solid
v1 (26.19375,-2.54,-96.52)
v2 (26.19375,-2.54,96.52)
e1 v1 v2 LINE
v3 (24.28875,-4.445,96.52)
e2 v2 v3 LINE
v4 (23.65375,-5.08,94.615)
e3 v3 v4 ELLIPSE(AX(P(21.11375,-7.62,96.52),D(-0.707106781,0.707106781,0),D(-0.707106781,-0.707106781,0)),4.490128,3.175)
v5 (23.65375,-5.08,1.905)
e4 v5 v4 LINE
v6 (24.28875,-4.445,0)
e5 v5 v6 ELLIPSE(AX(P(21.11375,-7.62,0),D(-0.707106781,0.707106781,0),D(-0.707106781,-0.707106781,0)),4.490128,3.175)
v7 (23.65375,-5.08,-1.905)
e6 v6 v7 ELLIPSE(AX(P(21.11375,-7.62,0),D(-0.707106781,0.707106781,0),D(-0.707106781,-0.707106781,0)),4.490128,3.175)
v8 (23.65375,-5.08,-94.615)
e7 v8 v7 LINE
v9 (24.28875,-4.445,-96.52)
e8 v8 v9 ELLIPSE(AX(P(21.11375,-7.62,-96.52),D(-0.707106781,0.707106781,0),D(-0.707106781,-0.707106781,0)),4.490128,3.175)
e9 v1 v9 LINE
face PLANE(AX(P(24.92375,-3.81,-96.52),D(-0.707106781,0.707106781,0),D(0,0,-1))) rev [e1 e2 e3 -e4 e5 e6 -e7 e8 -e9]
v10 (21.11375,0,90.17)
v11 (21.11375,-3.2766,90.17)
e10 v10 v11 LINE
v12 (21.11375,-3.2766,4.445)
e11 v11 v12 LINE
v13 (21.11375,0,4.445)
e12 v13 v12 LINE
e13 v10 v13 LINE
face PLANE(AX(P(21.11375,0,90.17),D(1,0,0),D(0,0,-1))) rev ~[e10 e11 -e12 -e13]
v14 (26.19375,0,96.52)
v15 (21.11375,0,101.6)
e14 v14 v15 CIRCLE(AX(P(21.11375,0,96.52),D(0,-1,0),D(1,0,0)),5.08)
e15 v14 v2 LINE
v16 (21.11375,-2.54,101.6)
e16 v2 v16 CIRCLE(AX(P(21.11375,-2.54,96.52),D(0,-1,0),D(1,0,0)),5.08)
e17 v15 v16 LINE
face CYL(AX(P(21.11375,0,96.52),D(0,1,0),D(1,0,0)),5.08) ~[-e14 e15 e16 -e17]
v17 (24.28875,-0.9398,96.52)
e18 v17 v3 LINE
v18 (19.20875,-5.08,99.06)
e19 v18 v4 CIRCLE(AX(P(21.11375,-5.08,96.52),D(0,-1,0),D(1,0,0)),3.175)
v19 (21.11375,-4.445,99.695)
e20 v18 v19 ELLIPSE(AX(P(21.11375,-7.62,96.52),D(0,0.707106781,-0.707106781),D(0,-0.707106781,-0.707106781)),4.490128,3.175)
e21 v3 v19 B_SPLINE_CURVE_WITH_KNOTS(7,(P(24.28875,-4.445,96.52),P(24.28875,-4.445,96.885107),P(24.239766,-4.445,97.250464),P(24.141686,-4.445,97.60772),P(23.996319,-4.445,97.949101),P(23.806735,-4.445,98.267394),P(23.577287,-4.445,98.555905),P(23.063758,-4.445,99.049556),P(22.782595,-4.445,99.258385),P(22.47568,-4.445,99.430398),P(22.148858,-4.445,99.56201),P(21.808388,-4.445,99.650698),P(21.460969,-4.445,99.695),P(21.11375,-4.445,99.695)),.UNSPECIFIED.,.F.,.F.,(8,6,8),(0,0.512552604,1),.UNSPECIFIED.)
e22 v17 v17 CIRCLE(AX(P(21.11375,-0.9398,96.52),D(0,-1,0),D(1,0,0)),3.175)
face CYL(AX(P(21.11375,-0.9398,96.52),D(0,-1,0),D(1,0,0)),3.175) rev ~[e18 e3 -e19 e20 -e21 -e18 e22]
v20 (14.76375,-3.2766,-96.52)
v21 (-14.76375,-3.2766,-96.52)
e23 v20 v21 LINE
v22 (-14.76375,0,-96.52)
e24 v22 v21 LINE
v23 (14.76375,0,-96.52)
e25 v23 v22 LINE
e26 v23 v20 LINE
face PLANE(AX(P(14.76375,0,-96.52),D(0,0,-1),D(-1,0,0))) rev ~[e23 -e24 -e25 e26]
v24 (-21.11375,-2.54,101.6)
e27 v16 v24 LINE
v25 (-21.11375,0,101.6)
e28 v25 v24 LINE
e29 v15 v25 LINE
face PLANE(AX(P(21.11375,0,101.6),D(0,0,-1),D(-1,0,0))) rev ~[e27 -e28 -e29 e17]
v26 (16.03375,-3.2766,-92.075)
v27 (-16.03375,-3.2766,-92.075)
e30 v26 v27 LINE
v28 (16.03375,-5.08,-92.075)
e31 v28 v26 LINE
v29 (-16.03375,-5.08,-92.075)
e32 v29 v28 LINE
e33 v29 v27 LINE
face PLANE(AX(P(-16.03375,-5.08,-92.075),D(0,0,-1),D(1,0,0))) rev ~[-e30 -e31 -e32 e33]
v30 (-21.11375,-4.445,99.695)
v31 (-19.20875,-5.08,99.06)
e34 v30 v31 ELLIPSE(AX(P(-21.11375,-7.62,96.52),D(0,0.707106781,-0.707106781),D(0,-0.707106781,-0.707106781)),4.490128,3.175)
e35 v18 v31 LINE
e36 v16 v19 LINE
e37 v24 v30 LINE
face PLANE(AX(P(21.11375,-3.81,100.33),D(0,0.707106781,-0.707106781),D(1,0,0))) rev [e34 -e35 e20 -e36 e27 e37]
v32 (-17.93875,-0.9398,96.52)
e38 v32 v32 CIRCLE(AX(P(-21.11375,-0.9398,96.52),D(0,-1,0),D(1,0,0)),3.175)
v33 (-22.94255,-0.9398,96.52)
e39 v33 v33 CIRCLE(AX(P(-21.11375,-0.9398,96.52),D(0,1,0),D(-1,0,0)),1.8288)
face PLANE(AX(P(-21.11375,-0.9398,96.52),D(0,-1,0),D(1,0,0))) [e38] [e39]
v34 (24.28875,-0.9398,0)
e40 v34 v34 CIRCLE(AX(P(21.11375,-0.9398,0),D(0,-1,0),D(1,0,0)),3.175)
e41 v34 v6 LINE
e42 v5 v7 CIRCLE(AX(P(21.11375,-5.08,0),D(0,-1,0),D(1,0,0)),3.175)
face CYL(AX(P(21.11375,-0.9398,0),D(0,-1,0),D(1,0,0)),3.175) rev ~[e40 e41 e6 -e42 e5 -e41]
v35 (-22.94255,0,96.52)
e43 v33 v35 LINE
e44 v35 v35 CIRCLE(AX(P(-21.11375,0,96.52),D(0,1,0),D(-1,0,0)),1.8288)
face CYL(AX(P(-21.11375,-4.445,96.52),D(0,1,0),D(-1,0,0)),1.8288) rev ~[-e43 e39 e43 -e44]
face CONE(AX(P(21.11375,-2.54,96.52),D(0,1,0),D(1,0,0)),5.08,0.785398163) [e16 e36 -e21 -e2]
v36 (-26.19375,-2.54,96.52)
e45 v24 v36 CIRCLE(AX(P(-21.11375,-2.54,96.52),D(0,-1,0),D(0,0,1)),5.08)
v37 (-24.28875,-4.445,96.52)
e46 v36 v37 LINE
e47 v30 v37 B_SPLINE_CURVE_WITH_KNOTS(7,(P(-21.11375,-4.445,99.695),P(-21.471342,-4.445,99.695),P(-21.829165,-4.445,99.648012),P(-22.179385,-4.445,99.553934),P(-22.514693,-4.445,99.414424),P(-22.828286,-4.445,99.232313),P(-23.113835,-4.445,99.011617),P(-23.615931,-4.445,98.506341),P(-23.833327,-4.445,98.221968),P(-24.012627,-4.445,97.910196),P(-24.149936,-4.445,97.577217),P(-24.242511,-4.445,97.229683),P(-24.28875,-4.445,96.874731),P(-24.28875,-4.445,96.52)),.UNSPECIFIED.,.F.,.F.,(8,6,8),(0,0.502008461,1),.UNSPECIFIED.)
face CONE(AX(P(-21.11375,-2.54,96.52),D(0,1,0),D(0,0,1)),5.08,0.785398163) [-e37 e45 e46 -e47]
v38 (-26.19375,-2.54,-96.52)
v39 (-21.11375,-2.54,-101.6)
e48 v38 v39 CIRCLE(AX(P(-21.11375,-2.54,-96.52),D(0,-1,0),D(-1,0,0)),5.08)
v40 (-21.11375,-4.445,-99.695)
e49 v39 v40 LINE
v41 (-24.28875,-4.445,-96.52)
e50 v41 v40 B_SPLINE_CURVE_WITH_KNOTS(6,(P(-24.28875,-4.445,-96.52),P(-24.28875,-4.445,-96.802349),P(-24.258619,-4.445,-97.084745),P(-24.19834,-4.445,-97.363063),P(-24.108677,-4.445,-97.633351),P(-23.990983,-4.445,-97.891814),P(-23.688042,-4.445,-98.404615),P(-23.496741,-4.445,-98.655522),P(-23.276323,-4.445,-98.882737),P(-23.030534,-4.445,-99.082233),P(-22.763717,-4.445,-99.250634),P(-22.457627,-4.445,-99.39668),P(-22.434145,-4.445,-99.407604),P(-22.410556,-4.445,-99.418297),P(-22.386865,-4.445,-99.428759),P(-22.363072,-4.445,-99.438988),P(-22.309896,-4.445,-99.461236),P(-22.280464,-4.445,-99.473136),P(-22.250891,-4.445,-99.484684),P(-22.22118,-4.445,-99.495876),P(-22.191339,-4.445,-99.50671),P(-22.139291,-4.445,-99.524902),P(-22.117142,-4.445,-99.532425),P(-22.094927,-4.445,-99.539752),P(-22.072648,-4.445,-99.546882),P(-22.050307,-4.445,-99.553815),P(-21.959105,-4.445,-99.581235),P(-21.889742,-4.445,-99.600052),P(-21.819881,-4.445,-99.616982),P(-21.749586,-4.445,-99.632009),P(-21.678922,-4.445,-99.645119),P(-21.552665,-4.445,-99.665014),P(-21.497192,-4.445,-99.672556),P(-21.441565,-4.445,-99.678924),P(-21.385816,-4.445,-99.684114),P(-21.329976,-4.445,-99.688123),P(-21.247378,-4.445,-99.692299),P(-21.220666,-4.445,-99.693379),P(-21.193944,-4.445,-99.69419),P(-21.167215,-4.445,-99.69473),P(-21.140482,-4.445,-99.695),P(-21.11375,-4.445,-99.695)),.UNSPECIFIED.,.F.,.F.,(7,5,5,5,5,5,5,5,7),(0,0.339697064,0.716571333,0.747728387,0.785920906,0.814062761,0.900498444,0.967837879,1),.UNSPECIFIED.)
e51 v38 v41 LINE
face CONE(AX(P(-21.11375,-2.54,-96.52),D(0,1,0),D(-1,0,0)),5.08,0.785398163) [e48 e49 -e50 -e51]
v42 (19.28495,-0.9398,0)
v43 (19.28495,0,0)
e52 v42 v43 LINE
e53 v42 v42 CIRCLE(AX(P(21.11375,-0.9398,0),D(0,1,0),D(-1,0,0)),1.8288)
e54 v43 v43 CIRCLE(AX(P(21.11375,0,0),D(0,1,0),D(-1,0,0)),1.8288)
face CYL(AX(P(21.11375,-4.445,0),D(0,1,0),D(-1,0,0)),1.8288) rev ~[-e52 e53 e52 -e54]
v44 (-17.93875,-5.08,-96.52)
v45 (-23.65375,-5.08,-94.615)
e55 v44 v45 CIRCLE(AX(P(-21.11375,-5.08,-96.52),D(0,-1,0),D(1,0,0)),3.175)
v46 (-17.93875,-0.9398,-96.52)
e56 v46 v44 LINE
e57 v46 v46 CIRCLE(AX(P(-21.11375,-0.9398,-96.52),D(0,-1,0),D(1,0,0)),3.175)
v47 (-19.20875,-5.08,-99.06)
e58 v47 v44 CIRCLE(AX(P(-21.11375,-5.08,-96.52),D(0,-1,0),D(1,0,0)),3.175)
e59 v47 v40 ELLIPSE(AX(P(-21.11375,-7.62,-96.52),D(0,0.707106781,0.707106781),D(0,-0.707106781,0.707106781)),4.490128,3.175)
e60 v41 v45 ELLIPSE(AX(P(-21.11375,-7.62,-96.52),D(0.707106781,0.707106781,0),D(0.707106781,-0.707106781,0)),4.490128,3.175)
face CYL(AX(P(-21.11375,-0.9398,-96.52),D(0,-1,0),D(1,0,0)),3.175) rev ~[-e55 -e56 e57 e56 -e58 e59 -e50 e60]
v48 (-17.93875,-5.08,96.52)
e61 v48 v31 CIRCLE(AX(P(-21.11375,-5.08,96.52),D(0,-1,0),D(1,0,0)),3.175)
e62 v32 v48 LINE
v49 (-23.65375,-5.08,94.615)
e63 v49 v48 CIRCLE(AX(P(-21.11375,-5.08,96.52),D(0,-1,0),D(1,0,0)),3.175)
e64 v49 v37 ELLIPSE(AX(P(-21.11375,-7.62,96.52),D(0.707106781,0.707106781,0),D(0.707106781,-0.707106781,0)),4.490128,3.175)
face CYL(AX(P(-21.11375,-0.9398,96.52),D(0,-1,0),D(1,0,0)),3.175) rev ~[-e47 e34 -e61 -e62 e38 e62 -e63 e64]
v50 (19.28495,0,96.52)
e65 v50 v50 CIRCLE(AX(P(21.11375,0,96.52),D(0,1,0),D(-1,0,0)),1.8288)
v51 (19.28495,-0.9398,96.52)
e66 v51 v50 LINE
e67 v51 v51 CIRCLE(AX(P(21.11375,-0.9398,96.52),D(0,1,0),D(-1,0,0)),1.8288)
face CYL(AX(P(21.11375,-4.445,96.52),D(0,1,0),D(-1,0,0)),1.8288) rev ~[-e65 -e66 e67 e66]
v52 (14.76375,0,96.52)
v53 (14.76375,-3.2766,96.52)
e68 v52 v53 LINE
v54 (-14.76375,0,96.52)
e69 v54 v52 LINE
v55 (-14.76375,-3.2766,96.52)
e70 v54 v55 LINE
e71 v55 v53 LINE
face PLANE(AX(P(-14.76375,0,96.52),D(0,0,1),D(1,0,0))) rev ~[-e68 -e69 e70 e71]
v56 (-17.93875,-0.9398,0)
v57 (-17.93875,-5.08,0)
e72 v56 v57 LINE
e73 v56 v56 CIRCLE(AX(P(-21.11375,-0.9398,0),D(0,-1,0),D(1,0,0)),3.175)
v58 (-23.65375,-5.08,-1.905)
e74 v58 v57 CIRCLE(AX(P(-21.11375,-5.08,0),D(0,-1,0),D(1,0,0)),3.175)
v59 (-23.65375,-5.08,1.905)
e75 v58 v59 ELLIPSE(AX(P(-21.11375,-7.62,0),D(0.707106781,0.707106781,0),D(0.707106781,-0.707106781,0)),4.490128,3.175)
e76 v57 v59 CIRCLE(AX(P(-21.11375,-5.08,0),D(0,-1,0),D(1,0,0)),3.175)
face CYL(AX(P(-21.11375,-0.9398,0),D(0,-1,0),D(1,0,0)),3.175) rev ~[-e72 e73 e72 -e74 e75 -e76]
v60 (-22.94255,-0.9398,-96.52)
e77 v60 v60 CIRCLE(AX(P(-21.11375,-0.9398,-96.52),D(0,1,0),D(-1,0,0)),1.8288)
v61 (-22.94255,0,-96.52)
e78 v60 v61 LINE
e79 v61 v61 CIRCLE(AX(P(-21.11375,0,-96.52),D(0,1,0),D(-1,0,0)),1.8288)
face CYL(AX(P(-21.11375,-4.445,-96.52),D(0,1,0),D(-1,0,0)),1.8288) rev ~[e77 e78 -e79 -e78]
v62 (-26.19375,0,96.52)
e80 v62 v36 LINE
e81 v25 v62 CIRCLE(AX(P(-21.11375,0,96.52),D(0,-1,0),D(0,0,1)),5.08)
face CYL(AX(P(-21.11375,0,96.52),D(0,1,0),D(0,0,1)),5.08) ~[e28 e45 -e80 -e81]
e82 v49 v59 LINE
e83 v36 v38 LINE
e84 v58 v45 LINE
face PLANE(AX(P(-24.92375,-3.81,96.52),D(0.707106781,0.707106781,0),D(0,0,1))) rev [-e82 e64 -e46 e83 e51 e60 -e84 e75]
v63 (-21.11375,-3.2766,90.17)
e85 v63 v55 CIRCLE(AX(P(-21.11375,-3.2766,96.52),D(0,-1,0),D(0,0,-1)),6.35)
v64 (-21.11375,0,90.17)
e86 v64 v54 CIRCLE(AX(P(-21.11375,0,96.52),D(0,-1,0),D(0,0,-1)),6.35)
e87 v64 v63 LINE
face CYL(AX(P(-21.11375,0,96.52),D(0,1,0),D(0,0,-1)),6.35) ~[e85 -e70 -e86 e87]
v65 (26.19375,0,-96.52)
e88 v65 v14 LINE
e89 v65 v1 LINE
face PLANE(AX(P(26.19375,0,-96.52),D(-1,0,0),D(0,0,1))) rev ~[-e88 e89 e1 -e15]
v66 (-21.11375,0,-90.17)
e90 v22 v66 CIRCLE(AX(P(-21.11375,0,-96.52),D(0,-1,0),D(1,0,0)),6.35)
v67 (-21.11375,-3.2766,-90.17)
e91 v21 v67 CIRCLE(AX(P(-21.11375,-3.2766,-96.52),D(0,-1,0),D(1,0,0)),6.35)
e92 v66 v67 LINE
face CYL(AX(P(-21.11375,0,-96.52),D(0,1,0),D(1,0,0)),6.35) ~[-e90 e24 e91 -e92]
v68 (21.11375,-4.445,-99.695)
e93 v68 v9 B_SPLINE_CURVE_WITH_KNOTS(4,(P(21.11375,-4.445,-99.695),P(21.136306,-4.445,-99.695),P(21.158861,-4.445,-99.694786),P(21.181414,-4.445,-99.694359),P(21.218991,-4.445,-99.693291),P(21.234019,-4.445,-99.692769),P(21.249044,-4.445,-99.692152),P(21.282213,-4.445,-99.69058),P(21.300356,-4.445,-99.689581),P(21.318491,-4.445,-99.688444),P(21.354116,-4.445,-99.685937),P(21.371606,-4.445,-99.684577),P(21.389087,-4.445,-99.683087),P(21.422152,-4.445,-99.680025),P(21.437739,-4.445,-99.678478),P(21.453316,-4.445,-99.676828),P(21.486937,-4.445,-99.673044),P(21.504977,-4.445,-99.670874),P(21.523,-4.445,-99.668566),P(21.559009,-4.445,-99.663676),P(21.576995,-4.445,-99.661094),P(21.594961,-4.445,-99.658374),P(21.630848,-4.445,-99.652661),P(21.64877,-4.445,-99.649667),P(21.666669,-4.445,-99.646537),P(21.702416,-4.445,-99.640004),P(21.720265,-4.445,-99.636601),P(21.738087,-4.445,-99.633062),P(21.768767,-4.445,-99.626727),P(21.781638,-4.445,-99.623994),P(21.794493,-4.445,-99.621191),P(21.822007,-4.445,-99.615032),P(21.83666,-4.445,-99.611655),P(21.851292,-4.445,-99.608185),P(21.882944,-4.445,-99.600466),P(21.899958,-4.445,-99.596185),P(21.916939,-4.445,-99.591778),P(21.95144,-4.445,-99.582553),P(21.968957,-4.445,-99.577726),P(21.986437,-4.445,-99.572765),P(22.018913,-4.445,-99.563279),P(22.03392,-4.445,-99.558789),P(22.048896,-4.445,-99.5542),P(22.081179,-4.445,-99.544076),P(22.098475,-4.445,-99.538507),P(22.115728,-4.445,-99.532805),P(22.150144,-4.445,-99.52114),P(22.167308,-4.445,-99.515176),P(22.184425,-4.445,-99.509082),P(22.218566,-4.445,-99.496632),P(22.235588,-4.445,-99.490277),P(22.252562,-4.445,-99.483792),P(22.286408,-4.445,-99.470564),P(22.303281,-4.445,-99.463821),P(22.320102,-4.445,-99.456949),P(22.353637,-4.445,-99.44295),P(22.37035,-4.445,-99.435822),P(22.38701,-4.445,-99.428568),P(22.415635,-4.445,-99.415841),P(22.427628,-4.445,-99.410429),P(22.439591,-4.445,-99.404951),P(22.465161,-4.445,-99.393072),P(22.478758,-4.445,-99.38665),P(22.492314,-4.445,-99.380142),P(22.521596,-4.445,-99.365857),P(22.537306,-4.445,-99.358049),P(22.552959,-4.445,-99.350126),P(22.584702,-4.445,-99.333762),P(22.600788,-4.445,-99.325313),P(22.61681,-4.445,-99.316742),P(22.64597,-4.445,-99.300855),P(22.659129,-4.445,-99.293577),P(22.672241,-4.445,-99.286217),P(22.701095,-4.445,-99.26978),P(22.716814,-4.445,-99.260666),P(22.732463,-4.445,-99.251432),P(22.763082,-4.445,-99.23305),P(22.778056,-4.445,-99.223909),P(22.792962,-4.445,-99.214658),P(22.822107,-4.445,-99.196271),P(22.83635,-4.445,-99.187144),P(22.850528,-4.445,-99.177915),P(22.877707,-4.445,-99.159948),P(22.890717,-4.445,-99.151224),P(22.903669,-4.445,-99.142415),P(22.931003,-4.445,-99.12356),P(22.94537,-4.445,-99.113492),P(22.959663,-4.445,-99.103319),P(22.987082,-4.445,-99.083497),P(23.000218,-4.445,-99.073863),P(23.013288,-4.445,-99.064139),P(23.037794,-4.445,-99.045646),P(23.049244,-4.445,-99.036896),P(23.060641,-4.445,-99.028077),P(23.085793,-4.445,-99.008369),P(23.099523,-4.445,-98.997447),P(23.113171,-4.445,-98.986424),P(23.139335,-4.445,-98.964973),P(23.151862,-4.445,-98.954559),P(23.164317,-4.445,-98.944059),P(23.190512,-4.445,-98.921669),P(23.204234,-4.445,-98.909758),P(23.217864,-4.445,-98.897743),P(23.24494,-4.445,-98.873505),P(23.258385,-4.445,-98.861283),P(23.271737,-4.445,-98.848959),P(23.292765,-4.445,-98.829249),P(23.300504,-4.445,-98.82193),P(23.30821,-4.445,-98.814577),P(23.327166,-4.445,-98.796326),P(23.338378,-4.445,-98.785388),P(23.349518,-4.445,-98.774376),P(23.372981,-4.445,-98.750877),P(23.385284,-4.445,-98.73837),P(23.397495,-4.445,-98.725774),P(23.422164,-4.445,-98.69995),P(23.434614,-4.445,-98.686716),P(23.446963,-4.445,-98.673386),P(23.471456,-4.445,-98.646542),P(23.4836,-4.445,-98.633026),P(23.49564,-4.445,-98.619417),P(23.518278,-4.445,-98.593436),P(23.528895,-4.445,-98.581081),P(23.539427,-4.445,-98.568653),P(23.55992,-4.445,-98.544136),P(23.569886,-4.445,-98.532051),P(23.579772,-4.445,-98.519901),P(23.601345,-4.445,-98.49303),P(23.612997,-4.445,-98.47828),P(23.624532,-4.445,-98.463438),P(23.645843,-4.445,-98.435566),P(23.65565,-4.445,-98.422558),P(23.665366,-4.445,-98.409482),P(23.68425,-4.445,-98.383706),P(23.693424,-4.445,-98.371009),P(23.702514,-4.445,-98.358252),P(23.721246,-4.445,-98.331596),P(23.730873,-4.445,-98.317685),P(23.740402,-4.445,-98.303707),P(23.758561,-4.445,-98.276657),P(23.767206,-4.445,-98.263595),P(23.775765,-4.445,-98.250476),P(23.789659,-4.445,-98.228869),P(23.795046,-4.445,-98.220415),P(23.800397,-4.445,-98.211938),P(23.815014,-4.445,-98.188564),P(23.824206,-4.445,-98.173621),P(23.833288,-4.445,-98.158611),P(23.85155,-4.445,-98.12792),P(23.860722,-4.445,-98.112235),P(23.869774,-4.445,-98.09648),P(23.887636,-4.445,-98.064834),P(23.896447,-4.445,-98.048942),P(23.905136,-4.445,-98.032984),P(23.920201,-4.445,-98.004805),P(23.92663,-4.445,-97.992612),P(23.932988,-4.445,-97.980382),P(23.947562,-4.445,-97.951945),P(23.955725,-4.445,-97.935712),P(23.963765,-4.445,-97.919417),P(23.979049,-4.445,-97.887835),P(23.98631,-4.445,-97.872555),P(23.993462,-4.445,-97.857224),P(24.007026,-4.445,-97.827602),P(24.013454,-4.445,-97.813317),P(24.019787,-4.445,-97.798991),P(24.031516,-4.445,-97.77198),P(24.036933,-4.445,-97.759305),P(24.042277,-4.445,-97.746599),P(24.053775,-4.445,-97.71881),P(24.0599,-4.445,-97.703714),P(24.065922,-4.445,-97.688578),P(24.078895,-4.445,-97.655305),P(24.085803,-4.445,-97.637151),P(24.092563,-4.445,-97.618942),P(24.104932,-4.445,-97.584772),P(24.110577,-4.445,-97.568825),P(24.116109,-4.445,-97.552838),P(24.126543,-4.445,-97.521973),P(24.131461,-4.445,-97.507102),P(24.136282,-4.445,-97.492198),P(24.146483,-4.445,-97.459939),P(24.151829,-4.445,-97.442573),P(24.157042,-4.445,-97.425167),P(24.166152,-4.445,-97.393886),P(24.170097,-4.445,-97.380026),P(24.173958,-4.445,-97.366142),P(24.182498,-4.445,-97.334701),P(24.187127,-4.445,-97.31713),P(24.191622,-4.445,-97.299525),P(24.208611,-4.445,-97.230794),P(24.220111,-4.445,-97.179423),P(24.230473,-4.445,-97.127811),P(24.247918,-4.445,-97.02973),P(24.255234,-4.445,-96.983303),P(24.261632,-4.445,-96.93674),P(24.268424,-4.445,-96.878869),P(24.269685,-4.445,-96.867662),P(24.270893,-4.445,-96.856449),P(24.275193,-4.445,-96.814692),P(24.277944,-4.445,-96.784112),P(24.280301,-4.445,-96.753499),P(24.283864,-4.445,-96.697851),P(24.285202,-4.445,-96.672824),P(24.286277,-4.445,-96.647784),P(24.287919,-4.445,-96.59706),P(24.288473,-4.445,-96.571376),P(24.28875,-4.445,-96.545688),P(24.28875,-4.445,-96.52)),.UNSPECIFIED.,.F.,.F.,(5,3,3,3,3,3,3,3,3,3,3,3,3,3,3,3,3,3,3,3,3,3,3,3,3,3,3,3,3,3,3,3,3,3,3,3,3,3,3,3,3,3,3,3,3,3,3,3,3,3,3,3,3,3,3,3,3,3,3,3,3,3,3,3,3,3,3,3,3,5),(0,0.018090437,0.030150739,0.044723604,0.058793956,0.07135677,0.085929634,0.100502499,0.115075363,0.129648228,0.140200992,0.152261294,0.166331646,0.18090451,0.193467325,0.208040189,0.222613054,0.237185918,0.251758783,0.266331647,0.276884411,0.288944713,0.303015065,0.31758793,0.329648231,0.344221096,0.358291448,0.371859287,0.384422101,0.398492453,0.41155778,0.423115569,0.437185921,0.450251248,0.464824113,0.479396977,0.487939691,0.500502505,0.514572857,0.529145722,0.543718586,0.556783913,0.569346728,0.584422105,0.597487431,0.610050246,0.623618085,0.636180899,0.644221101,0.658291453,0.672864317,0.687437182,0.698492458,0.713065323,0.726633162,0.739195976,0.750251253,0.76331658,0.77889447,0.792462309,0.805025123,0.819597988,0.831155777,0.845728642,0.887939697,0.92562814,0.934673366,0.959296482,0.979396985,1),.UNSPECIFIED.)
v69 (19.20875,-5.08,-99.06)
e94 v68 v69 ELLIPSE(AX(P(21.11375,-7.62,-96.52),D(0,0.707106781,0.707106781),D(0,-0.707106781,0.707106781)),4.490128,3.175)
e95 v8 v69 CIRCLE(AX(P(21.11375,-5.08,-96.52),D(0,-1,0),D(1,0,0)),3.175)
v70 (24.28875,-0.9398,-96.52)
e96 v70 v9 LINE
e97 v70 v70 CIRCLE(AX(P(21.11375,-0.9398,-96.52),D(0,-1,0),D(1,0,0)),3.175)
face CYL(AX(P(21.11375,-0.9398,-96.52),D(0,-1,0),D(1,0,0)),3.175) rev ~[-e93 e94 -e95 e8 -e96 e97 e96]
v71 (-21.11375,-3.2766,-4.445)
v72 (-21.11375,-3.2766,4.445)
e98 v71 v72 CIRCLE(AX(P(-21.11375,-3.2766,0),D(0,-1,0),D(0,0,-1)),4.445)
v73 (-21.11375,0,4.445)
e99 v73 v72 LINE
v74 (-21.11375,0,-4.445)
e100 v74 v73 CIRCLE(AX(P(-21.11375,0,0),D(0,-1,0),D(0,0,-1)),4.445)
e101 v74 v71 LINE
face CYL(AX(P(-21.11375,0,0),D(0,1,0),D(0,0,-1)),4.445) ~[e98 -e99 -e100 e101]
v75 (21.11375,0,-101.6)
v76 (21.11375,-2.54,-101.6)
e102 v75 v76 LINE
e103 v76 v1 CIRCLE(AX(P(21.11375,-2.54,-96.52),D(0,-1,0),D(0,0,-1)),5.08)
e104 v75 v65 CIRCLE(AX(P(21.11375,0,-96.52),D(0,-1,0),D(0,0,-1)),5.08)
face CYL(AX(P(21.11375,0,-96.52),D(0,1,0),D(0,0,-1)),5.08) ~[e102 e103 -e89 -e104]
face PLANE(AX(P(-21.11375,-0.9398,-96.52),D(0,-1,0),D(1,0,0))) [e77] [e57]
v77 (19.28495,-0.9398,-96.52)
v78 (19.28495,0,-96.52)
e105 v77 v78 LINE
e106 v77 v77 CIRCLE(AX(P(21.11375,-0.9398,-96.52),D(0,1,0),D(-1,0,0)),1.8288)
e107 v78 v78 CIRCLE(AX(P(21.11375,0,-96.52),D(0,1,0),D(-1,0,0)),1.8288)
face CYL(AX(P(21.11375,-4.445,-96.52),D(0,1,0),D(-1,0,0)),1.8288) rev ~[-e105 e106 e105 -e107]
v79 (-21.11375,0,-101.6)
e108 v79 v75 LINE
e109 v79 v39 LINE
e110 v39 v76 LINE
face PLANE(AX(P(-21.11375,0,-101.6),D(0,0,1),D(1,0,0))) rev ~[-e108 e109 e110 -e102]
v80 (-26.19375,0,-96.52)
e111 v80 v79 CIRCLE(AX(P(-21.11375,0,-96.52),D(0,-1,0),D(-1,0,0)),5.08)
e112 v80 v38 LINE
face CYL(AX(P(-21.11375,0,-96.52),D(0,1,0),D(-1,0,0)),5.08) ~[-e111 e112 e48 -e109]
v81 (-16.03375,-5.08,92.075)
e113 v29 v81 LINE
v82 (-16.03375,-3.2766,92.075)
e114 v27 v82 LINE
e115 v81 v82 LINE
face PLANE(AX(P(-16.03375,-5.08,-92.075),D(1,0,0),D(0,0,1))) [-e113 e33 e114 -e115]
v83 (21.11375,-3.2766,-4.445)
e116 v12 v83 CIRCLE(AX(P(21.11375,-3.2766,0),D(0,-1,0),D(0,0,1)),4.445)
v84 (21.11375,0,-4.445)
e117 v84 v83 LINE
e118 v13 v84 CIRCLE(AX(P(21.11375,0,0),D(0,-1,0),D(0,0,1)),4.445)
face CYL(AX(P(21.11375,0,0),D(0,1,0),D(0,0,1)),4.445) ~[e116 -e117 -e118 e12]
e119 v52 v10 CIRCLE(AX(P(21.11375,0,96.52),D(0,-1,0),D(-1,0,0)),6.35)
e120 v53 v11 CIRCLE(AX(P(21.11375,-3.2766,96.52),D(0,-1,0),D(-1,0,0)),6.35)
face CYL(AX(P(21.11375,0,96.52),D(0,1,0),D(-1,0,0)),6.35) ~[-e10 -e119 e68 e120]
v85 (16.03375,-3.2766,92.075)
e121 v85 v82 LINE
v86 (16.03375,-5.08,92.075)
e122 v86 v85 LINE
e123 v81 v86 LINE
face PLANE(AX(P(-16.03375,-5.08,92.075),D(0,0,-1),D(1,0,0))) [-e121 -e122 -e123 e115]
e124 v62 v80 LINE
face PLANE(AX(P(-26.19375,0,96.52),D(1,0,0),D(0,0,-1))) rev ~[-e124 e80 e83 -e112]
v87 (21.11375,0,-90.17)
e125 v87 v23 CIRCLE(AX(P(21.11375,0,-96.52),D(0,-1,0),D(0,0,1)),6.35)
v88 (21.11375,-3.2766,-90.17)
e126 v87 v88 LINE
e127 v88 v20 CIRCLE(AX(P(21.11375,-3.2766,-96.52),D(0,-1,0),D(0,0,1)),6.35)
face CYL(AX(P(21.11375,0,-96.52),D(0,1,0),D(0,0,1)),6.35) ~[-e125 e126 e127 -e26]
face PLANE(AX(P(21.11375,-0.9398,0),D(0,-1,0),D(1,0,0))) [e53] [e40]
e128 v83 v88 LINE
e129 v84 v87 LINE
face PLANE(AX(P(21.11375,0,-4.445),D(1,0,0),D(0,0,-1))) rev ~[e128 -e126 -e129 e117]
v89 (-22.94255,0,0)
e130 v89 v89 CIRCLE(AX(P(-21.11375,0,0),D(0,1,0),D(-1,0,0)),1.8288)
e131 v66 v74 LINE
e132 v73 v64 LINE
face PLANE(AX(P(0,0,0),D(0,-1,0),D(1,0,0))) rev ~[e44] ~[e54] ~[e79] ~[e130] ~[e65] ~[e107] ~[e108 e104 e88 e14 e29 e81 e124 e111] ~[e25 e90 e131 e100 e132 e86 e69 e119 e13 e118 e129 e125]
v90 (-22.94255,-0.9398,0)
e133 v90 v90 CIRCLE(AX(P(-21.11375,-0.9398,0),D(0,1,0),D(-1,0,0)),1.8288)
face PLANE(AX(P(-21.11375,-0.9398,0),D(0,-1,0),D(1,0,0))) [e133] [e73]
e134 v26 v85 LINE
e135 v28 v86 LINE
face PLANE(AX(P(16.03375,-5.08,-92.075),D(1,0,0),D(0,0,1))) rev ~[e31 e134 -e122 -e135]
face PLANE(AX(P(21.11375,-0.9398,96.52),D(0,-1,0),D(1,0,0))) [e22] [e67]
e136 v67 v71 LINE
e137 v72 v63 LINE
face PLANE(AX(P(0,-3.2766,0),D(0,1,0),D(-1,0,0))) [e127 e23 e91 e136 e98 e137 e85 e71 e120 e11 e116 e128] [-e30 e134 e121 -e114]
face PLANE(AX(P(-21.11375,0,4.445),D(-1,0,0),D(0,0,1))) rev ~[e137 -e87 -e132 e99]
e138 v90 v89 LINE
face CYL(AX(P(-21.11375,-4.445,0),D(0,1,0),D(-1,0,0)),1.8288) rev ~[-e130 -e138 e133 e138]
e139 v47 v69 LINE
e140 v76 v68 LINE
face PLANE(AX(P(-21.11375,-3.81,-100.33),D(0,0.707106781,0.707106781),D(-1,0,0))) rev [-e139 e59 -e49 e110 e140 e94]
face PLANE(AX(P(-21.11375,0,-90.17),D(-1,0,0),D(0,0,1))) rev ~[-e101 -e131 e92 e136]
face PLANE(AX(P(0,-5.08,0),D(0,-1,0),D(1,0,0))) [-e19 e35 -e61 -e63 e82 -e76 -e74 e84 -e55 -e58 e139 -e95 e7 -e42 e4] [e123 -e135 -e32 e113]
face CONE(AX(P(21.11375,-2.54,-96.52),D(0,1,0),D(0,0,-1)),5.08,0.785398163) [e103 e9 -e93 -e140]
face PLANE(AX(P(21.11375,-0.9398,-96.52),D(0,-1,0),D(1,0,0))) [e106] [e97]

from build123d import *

# Parameters (mm, degrees)
F1_DEPTH       = 5.08
F2_SIZE        = 2.54
F4_D           = 3.6576
F4_START       = 0.635
F4_START_2     = 0.6350001
F4_CBORE_D     = 6.35
F4_CBORE_DEPTH = 3.5052
F5_W           = 32.0675
F5_H           = 184.15
F6_DEPTH       = 5.081
F7_W           = 32.0675
F7_H           = 184.15
F8_DEPTH       = 3.2766


with BuildPart() as f1:
    # F0 (on Front) → F1 (new body)
    with BuildSketch(Plane.XZ):
        with BuildLine():
            ThreePointArc((26.19375, 96.52), (24.7058524484, 100.1121024484), (21.11375, 101.6))
            Line((21.11375, 101.6), (-21.11375, 101.6))
            ThreePointArc((-21.11375, 101.6), (-24.7058524484, 100.1121024484), (-26.19375, 96.52))
            Line((-26.19375, 96.52), (-26.19375, -96.52))
            ThreePointArc((-26.19375, -96.52), (-24.7058524484, -100.1121024484), (-21.11375, -101.6))
            Line((-21.11375, -101.6), (21.11375, -101.6))
            ThreePointArc((21.11375, -101.6), (24.7058524484, -100.1121024484), (26.19375, -96.52))
            Line((26.19375, -96.52), (26.19375, 96.52))
        make_face()
    extrude(amount=F1_DEPTH)

    # F2
    f2_edges = [f1.edges().sort_by_distance(p)[0] for p in [
        (0, -5.08, 101.6),
    ]]
    chamfer(f2_edges, length=F2_SIZE)

    # F4 (through all)
    # its depths count from where the whole tool has entered the part; down to there all is cleared
    with Locations(Plane.XZ.offset(5.08)):
        with Locations((-21.11375, 96.52, -F4_START_2), (21.11375, 96.52, -F4_START_2), (21.11375, 0, -F4_START), (-21.11375, 0, -F4_START), (-21.11375, -96.52, -F4_START_2), (21.11375, -96.52, -F4_START_2)):
            CounterBoreHole(F4_D / 2, F4_CBORE_D / 2, F4_CBORE_DEPTH)

    # F5 (on face) → F6 (cut, through all)
    with BuildSketch(Plane.XZ.offset(5.08)):
        Rectangle(F5_W, F5_H)
    extrude(amount=-F6_DEPTH, mode=Mode.SUBTRACT)

    # F7 (on face) → F8 (cut)
    with BuildSketch(Plane(origin=(0, 0, 0), x_dir=(-1, 0, 0), z_dir=(0, 1, 0))):
        with BuildLine():
            ThreePointArc((21.11375, 90.17), (16.6236219395, 92.0298719395), (14.76375, 96.52))
            Line((14.76375, 96.52), (-14.76375, 96.52))
            ThreePointArc((-14.76375, 96.52), (-16.6236219395, 92.0298719395), (-21.11375, 90.17))
            Line((-21.11375, 90.17), (-21.11375, 4.445))
            ThreePointArc((-21.11375, 4.445), (-16.66875, 0), (-21.11375, -4.445))
            Line((-21.11375, -4.445), (-21.11375, -90.17))
            ThreePointArc((-21.11375, -90.17), (-16.6236219395, -92.0298719395), (-14.76375, -96.52))
            Line((-14.76375, -96.52), (14.76375, -96.52))
            ThreePointArc((14.76375, -96.52), (16.6236219395, -92.0298719395), (21.11375, -90.17))
            Line((21.11375, -90.17), (21.11375, -4.445))
            ThreePointArc((21.11375, -4.445), (16.66875, 0), (21.11375, 4.445))
            Line((21.11375, 4.445), (21.11375, 90.17))
        make_face()
        Rectangle(F7_W, F7_H, mode=Mode.SUBTRACT)
    extrude(amount=-F8_DEPTH, mode=Mode.SUBTRACT)


solid = f1.part
